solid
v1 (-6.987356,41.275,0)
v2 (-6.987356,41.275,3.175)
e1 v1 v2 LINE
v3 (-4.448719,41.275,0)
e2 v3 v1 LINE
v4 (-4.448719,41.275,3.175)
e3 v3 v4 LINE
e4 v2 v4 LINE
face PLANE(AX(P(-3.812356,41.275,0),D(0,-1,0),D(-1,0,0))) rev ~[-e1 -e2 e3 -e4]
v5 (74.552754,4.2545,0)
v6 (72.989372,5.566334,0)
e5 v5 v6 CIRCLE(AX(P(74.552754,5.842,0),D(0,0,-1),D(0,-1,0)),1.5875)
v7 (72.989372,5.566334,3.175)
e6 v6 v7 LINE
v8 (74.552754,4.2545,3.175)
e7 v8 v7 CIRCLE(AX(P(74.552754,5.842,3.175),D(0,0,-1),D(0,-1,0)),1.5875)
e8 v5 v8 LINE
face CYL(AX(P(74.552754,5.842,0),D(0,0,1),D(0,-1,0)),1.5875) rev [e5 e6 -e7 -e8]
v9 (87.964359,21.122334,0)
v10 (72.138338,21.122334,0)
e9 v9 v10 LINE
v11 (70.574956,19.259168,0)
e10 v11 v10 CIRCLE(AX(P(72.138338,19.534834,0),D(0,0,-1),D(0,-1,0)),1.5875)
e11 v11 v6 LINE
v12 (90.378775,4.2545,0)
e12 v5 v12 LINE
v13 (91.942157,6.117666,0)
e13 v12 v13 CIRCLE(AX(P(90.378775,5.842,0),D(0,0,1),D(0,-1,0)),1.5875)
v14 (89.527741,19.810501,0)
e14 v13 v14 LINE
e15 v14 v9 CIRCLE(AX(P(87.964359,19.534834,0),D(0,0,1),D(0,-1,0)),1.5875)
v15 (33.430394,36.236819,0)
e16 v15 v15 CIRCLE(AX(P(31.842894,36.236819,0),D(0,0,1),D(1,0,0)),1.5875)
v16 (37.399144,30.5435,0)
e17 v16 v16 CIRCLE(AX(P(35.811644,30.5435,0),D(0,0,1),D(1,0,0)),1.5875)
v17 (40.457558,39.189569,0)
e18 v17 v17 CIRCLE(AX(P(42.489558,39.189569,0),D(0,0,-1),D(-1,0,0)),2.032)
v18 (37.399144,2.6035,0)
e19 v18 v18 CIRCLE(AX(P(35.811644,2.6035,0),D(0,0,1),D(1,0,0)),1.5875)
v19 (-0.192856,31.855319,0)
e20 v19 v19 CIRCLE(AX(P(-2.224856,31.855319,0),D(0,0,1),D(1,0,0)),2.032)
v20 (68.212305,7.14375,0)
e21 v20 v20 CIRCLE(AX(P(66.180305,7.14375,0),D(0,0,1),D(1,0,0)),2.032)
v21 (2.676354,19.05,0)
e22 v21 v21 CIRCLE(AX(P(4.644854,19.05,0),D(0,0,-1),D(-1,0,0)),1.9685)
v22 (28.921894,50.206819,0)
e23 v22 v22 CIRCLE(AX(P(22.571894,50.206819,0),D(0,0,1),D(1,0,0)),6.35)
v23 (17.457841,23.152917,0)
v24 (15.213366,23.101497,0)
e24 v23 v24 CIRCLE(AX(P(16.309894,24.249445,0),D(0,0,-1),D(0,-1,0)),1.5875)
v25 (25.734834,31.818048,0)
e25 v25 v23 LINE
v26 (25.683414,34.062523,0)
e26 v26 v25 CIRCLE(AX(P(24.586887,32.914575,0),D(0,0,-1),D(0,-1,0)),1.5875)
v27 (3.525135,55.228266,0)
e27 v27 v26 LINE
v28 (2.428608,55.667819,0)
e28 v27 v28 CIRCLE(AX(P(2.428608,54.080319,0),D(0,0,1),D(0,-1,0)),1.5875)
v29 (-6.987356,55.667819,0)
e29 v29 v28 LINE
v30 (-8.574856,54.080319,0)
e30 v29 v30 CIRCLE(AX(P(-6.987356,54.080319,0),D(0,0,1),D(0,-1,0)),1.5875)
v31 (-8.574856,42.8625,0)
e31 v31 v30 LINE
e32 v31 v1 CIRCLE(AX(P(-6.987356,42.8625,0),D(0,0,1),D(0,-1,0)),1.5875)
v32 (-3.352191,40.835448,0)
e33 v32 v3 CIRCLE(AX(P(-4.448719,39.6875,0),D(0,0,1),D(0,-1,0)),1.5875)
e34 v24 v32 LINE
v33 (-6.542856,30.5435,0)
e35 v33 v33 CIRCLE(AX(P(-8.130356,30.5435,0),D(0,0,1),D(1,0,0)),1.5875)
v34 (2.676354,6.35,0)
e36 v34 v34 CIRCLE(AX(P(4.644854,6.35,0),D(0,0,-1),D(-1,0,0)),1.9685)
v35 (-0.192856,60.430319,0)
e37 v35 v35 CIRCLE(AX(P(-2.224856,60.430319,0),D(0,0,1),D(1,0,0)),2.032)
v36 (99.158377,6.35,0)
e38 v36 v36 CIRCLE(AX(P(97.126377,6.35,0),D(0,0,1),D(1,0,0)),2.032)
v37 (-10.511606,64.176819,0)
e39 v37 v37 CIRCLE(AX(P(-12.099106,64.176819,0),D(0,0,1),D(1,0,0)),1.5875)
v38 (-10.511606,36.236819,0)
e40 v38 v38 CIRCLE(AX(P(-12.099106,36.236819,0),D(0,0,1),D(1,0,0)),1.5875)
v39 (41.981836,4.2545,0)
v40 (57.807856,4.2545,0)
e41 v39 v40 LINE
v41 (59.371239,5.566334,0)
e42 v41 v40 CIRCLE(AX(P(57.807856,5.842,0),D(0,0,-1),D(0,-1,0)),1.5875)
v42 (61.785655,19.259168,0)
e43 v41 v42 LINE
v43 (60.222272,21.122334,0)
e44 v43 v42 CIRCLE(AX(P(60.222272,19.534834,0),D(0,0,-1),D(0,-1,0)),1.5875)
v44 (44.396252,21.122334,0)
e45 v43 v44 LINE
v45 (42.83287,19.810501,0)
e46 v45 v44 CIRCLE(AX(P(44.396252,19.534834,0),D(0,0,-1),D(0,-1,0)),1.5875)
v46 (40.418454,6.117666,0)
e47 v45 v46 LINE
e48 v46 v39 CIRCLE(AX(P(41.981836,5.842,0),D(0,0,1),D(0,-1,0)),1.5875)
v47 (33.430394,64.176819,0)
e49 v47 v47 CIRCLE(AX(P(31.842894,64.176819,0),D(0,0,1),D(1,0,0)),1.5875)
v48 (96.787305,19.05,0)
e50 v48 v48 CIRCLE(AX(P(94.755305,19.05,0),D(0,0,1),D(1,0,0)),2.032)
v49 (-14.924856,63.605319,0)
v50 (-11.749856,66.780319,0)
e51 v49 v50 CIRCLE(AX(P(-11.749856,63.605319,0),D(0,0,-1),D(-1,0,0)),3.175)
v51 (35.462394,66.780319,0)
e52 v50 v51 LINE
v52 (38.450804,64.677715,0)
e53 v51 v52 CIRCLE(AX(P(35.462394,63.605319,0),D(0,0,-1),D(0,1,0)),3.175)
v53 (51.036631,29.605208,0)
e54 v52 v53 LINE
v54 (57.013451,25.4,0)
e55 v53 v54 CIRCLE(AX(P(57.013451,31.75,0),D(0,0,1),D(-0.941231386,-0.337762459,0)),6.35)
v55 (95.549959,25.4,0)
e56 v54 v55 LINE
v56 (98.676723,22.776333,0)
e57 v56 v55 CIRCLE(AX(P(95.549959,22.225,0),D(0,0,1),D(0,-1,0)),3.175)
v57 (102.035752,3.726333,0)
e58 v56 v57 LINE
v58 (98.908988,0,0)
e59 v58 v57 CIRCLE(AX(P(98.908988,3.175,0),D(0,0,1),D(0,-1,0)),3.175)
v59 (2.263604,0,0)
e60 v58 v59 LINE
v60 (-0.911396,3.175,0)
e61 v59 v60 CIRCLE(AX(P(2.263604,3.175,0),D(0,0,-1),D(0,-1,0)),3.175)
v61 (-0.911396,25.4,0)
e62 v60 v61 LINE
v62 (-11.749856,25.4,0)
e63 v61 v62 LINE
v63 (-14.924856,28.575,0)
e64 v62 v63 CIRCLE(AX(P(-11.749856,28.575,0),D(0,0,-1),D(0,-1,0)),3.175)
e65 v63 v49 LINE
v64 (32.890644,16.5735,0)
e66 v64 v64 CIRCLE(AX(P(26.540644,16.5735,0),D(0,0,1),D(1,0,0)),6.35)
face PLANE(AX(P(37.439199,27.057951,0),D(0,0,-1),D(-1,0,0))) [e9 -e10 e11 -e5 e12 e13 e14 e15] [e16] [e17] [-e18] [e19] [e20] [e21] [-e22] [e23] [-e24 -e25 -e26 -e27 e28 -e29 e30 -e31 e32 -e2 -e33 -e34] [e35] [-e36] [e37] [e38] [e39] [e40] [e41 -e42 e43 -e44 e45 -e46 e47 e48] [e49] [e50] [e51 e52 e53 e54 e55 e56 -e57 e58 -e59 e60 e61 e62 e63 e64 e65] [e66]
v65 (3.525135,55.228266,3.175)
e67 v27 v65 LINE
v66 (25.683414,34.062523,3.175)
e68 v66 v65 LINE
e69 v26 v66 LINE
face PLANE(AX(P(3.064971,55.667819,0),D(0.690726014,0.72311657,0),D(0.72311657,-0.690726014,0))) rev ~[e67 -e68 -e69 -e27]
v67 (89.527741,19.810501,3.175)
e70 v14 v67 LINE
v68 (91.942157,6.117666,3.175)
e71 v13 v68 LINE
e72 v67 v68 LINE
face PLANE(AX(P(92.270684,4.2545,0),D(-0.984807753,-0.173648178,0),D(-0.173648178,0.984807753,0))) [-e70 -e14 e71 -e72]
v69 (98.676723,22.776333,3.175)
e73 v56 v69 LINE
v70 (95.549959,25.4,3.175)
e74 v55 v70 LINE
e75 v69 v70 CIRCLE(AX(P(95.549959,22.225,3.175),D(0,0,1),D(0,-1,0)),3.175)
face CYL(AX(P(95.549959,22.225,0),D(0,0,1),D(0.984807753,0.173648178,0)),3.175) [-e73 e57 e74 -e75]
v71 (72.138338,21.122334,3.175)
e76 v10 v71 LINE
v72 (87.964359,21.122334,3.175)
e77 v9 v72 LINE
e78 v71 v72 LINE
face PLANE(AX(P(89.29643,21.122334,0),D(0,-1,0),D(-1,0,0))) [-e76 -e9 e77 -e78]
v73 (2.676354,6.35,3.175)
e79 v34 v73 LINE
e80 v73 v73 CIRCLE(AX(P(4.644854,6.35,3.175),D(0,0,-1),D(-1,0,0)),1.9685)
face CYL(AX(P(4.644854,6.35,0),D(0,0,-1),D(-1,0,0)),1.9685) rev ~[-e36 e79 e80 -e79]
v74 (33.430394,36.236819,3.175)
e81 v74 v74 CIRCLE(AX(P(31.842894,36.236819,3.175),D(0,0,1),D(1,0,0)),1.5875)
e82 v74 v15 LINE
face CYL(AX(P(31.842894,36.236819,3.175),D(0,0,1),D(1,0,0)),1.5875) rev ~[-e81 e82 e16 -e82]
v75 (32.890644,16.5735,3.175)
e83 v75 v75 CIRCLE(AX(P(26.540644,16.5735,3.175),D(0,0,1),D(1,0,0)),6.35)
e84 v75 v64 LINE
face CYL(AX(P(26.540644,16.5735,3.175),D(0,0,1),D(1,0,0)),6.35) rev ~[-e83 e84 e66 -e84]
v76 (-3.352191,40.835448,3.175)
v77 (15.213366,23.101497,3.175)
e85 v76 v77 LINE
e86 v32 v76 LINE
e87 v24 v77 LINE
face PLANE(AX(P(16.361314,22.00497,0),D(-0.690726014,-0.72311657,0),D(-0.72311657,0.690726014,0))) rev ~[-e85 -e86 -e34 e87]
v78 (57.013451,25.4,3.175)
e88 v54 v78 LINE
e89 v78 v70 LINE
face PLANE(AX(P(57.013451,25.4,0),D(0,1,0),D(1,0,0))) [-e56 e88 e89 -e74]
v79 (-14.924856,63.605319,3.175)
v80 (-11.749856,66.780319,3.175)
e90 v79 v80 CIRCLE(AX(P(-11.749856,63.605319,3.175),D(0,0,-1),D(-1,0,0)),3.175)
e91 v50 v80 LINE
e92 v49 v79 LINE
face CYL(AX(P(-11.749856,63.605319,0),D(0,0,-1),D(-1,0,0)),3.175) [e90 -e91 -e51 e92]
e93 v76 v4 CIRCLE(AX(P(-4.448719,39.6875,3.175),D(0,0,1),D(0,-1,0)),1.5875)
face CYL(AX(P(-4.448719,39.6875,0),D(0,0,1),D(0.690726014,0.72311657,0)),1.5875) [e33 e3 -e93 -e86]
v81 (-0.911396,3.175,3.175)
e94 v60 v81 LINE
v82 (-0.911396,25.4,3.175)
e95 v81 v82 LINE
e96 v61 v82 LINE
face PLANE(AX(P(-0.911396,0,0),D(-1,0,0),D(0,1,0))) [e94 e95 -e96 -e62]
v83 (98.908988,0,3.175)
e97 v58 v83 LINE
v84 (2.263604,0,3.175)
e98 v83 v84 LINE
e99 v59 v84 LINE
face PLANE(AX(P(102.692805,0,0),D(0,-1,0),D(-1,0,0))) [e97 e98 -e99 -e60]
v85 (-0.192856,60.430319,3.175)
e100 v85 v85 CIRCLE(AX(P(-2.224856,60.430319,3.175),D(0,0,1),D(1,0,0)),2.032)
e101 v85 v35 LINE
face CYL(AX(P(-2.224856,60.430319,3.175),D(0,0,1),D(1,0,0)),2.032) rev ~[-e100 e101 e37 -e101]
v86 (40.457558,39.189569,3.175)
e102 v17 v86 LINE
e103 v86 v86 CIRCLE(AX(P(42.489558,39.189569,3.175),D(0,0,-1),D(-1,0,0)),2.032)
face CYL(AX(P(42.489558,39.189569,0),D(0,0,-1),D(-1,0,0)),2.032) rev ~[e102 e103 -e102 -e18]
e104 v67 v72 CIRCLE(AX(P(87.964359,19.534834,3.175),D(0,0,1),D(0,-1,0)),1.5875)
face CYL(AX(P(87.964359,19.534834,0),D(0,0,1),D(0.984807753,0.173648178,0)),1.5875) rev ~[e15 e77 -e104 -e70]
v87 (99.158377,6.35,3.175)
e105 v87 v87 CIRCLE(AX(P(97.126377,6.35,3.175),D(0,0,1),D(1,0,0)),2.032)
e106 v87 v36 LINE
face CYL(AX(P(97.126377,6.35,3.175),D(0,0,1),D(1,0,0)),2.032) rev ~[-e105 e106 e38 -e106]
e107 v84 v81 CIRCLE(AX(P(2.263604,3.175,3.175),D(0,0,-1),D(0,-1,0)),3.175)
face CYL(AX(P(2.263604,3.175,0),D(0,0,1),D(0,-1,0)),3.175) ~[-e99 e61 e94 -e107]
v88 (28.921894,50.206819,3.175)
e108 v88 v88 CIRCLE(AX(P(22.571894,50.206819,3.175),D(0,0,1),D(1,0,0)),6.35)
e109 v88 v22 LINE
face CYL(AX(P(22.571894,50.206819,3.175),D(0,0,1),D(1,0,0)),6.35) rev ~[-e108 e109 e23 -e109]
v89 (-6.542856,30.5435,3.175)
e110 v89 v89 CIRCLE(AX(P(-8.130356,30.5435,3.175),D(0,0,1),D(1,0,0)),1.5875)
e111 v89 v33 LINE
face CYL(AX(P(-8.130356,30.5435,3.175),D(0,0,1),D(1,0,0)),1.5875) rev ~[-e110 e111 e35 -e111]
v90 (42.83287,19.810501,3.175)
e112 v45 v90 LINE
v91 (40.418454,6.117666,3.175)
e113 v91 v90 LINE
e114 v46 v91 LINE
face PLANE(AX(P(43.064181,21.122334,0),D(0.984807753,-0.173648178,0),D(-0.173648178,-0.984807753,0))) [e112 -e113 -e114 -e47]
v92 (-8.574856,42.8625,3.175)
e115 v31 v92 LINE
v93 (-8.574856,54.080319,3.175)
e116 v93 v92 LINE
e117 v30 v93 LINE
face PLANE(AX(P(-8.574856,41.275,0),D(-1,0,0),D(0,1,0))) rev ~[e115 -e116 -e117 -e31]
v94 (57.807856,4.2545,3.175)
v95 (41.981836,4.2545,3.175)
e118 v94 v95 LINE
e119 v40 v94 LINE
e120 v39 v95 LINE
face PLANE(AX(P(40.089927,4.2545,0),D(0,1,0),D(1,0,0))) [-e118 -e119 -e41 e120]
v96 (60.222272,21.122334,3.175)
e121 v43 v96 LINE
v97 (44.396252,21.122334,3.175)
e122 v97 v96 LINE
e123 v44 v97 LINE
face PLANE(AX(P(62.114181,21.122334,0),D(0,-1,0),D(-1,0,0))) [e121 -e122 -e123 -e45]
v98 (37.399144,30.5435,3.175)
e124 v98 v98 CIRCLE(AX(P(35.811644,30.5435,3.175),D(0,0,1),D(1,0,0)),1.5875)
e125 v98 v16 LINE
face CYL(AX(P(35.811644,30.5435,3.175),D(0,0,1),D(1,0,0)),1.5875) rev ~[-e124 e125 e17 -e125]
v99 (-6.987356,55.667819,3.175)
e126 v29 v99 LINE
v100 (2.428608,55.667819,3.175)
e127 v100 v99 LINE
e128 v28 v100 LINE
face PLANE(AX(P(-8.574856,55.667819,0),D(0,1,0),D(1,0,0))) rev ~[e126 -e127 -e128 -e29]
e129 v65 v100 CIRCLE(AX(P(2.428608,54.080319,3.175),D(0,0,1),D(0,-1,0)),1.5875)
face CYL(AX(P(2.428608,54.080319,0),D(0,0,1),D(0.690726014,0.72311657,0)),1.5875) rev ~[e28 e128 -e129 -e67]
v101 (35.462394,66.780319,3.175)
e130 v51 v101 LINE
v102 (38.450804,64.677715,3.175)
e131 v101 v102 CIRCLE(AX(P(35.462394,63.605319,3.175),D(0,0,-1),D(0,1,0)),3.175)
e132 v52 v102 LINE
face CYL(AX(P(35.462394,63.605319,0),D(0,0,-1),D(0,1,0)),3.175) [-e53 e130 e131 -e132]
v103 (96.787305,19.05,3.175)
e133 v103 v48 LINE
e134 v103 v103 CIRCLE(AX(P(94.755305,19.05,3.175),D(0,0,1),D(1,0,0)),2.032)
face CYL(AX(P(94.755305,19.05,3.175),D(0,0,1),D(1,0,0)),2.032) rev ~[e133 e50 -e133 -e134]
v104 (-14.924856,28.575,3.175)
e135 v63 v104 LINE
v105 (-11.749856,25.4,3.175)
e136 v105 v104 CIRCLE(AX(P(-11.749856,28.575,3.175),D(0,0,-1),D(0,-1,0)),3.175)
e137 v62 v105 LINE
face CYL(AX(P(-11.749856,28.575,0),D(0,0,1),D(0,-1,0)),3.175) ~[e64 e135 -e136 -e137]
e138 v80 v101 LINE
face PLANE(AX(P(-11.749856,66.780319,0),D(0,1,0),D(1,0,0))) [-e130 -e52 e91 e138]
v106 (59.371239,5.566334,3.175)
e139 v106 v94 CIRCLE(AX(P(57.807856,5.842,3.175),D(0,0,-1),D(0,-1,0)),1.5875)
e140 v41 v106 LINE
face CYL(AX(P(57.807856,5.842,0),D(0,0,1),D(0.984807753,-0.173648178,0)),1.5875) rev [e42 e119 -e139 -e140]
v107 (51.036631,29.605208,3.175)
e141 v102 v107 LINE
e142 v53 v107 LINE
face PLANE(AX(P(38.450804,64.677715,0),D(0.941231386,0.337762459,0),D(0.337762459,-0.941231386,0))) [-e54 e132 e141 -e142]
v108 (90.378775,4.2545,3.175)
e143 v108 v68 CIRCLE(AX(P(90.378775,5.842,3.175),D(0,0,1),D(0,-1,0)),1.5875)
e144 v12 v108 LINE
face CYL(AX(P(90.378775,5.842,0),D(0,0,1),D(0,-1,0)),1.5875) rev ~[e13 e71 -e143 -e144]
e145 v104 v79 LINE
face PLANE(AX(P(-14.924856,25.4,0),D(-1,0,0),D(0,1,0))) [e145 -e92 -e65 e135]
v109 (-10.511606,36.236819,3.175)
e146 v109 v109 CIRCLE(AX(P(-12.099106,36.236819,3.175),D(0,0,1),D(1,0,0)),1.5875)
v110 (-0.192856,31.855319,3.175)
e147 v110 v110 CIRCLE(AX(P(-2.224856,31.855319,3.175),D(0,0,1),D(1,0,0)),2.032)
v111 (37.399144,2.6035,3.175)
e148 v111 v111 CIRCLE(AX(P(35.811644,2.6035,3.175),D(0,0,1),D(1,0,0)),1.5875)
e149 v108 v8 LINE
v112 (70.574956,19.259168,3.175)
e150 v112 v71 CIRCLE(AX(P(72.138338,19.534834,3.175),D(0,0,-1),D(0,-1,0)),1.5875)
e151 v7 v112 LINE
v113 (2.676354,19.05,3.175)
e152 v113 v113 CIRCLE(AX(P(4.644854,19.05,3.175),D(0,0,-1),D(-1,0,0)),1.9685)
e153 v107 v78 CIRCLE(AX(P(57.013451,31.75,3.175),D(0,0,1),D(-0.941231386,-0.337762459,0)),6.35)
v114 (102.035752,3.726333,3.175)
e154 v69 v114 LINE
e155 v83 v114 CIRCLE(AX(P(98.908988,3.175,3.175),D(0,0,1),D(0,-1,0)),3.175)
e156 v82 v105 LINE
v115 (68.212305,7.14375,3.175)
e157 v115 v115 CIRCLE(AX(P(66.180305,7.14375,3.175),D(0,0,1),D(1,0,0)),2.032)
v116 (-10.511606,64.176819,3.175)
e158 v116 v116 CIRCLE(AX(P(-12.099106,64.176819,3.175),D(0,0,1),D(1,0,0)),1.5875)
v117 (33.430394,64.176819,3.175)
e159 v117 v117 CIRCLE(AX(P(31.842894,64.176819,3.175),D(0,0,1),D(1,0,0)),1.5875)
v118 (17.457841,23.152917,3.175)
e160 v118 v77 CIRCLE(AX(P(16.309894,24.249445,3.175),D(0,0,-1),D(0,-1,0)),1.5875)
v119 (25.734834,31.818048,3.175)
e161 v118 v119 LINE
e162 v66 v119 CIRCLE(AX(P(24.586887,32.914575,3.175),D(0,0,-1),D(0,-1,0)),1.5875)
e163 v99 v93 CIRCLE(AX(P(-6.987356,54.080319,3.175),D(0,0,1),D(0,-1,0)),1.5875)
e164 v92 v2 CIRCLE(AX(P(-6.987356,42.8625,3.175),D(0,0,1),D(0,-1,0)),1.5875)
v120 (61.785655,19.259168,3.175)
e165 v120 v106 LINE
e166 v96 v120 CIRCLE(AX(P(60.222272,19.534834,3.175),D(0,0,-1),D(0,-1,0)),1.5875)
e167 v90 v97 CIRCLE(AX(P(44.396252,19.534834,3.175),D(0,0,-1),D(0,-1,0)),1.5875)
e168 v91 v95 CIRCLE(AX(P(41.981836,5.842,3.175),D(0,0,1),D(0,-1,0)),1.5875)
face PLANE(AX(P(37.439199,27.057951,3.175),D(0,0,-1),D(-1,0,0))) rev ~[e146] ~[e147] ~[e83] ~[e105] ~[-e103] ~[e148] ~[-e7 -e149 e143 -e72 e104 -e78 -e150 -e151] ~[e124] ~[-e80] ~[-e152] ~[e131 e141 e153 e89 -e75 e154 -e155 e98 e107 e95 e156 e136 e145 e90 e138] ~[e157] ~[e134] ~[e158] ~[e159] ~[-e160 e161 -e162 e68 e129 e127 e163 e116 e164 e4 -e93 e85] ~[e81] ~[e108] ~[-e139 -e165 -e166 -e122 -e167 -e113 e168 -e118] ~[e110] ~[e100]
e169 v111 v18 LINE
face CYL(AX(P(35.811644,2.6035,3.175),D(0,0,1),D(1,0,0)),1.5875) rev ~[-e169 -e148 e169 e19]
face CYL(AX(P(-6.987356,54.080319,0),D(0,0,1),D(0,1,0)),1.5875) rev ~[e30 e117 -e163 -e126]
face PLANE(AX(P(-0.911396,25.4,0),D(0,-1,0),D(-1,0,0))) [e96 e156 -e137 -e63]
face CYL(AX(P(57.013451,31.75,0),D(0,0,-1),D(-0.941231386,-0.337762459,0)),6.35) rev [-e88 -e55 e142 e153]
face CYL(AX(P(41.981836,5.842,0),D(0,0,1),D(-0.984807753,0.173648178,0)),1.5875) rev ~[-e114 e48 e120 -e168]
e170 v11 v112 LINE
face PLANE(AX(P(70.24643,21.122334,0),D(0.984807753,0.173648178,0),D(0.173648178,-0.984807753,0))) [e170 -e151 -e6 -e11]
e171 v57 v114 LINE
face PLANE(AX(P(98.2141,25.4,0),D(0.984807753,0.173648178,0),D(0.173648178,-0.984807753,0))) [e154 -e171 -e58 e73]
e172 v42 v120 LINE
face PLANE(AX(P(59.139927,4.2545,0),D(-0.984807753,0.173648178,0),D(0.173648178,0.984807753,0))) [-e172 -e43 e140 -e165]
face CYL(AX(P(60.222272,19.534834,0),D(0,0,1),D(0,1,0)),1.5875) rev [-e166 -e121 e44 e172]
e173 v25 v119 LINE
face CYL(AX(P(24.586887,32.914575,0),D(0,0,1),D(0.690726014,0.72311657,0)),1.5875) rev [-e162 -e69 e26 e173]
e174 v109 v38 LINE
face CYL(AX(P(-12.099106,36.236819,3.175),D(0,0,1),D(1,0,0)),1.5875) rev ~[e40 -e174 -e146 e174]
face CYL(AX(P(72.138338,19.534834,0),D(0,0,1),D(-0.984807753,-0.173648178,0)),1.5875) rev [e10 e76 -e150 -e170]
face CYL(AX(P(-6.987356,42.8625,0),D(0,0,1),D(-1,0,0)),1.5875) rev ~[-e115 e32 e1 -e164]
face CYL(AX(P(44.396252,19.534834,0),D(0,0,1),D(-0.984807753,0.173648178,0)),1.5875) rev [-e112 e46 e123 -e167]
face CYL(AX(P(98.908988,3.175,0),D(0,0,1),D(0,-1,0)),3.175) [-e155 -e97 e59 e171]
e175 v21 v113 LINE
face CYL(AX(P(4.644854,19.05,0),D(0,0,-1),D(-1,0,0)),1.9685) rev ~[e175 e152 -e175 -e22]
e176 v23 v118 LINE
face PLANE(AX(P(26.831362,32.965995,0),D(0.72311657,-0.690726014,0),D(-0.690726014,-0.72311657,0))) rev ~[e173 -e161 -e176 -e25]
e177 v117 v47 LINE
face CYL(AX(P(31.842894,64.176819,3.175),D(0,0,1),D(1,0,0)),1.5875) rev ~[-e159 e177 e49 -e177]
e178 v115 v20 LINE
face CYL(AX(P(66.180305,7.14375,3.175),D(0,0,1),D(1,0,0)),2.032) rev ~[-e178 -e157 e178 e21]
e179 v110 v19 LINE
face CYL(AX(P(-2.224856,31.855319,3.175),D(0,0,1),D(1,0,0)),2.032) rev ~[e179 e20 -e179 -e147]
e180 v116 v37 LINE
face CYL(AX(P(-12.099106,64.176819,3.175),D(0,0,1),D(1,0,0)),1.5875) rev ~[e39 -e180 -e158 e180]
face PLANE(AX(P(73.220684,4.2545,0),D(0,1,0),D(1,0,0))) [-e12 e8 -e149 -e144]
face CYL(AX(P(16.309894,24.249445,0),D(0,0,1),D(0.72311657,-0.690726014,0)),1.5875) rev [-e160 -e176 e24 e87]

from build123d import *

# Parameters (mm, degrees)
BOSS_EXTRUDE1_DEPTH = 3.175
SKETCH2_R           = 6.35
SKETCH2_R_2         = 1.5875
SKETCH2_R_3         = 2.032
CUT_EXTRUDE1_DEPTH  = 123.537765163
SKETCH3_R           = 2.032
SKETCH3_R_2         = 1.9685
CUT_EXTRUDE2_DEPTH  = 123.537765163
FILLET1_R           = 3.175
SKETCH4_R           = 2.032
CUT_EXTRUDE3_DEPTH  = 123.027997459
CUT_EXTRUDE4_REACH  = 124.028
FILLET2_R           = 1.5875


with BuildPart() as part:
    # Sketch1 → Boss-Extrude1 (new body)
    with BuildSketch(Plane.XY):
        with BuildLine():
            Line((102.692805421, 0), (-0.911395616, 0))
            Line((-0.911395616, 0), (-0.911395616, 25.4))
            Line((-0.911395616, 25.4), (-14.924855892, 25.4))
            Line((-14.924855892, 25.4), (-14.924855892, 63.605318816))
            ThreePointArc((-14.924855892, 63.605318816), (-13.994919922, 65.850382846), (-11.749855892, 66.780318816))
            Line((-11.749855892, 66.780318816), (35.462394108, 66.780318816))
            ThreePointArc((35.462394108, 66.780318816), (37.289381836, 66.201997626), (38.450803758, 64.677714623))
            Line((38.450803758, 64.677714623), (51.036631355, 29.605208386))
            ThreePointArc((51.036631355, 29.605208386), (53.359475199, 26.556642379), (57.013450653, 25.4))
            Line((57.013450653, 25.4), (98.214100111, 25.4))
            Line((98.214100111, 25.4), (102.692805421, 0))
        make_face()
    extrude(amount=BOSS_EXTRUDE1_DEPTH)

    # Sketch2 → Cut-Extrude1 (cut, through all)
    with BuildSketch(Plane.XY.offset(3.175)):
        with Locations((22.571894108, 50.206818816)):
            Circle(SKETCH2_R)
        with Locations((26.540644108, 16.5735)):
            Circle(SKETCH2_R)
        with Locations((-8.130355892, 30.5435)):
            Circle(SKETCH2_R_2)
        with Locations((35.811644108, 30.5435)):
            Circle(SKETCH2_R_2)
        with Locations((35.811644108, 2.6035)):
            Circle(SKETCH2_R_2)
        with Locations((-8.130355892, 2.6035)):
            Circle(SKETCH2_R_2)
        with Locations((-12.099105892, 36.236818816)):
            Circle(SKETCH2_R_2)
        with Locations((31.842894108, 36.236818816)):
            Circle(SKETCH2_R_2)
        with Locations((31.842894108, 64.176818816)):
            Circle(SKETCH2_R_2)
        with Locations((-12.099105892, 64.176818816)):
            Circle(SKETCH2_R_2)
        with Locations((66.180305421, 7.14375)):
            Circle(SKETCH2_R_3)
    extrude(amount=-CUT_EXTRUDE1_DEPTH, mode=Mode.SUBTRACT)

    # Sketch3 → Cut-Extrude2 (cut, through all)
    with BuildSketch(Plane(origin=(0, 0, 0), x_dir=(-1, 0, 0), z_dir=(0, 0, -1))):
        with Locations((-42.489558108, 39.189568816)):
            Circle(SKETCH3_R)
        with Locations((-4.644854384, 19.05)):
            Circle(SKETCH3_R_2)
        with Locations((-4.644854384, 6.35)):
            Circle(SKETCH3_R_2)
    extrude(amount=-CUT_EXTRUDE2_DEPTH, mode=Mode.SUBTRACT)

    # Fillet1
    fillet1_edges = [part.edges().sort_by_distance(p)[0] for p in [
        (-14.924855892, 25.4, 1.5875),
        (98.214100111, 25.4, 1.5875),
        (102.692805421, 0, 1.5875),
        (-0.911395616, 0, 1.5875),
    ]]
    fillet(fillet1_edges, radius=FILLET1_R)

    # Sketch4 → Cut-Extrude3 (cut, through all)
    with BuildSketch(Plane.XY.offset(3.175)):
        with Locations((94.755305421, 19.05)):
            Circle(SKETCH4_R)
        with Locations((97.126377465, 6.35)):
            Circle(SKETCH4_R)
        with Locations((-2.224855892, 60.430318816)):
            Circle(SKETCH4_R)
        with Locations((-2.224855892, 31.855318816)):
            Circle(SKETCH4_R)
    extrude(amount=-CUT_EXTRUDE3_DEPTH, mode=Mode.SUBTRACT)

    # Sketch5 → Cut-Extrude4 (cut, up to next)
    with BuildSketch(Plane(origin=(0, 0, 0), x_dir=(-1, 0, 0), z_dir=(0, 0, -1)), mode=Mode.PRIVATE) as cut_extrude4_sk1:
        Polygon((-3.064970502, 55.667818816), (-26.831361929, 32.965995206), (-16.361313511, 22.004969641), (3.812355892, 41.275), (8.574855892, 41.275), (8.574855892, 55.667818816), align=None)
    cut_extrude4_tool1 = extrude(cut_extrude4_sk1.sketch, amount=-CUT_EXTRUDE4_REACH, mode=Mode.PRIVATE) & part.part
    # Sketch5 → Cut-Extrude4 (cut, up to next)
    with BuildSketch(Plane(origin=(0, 0, 0), x_dir=(-1, 0, 0), z_dir=(0, 0, -1)), mode=Mode.PRIVATE) as cut_extrude4_sk2:
        Polygon((-92.270683803, 4.2545), (-89.29642955, 21.122334072), (-70.24642955, 21.122334072), (-73.220683803, 4.2545), align=None)
    cut_extrude4_tool2 = extrude(cut_extrude4_sk2.sketch, amount=-CUT_EXTRUDE4_REACH, mode=Mode.PRIVATE) & part.part
    # Sketch5 → Cut-Extrude4 (cut, up to next)
    with BuildSketch(Plane(origin=(0, 0, 0), x_dir=(-1, 0, 0), z_dir=(0, 0, -1)), mode=Mode.PRIVATE) as cut_extrude4_sk3:
        Polygon((-40.089927038, 4.2545), (-59.139927038, 4.2545), (-62.114181291, 21.122334072), (-43.064181291, 21.122334072), align=None)
    cut_extrude4_tool3 = extrude(cut_extrude4_sk3.sketch, amount=-CUT_EXTRUDE4_REACH, mode=Mode.PRIVATE) & part.part
    add(cut_extrude4_tool1.solids().sort_by_distance((7.67675, 40.461869, 0))[0], mode=Mode.SUBTRACT)
    add(cut_extrude4_tool2.solids().sort_by_distance((81.258557, 12.688417, 0))[0], mode=Mode.SUBTRACT)
    add(cut_extrude4_tool3.solids().sort_by_distance((51.102054, 12.688417, 0))[0], mode=Mode.SUBTRACT)

    # Fillet2
    fillet2_edges = [part.edges().sort_by_distance(p)[0] for p in [
        (3.064970502, 55.667818816, 1.5875),
        (-8.574855892, 55.667818816, 1.5875),
        (-8.574855892, 41.275, 1.5875),
        (-3.812355892, 41.275, 1.5875),
        (16.361313511, 22.004969641, 1.5875),
        (26.831361929, 32.965995206, 1.5875),
        (73.220683803, 4.2545, 1.5875),
        (92.270683803, 4.2545, 1.5875),
        (89.29642955, 21.122334072, 1.5875),
        (70.24642955, 21.122334072, 1.5875),
        (43.064181291, 21.122334072, 1.5875),
        (40.089927038, 4.2545, 1.5875),
        (59.139927038, 4.2545, 1.5875),
        (62.114181291, 21.122334072, 1.5875),
    ]]
    fillet(fillet2_edges, radius=FILLET2_R)


solid = part.part
